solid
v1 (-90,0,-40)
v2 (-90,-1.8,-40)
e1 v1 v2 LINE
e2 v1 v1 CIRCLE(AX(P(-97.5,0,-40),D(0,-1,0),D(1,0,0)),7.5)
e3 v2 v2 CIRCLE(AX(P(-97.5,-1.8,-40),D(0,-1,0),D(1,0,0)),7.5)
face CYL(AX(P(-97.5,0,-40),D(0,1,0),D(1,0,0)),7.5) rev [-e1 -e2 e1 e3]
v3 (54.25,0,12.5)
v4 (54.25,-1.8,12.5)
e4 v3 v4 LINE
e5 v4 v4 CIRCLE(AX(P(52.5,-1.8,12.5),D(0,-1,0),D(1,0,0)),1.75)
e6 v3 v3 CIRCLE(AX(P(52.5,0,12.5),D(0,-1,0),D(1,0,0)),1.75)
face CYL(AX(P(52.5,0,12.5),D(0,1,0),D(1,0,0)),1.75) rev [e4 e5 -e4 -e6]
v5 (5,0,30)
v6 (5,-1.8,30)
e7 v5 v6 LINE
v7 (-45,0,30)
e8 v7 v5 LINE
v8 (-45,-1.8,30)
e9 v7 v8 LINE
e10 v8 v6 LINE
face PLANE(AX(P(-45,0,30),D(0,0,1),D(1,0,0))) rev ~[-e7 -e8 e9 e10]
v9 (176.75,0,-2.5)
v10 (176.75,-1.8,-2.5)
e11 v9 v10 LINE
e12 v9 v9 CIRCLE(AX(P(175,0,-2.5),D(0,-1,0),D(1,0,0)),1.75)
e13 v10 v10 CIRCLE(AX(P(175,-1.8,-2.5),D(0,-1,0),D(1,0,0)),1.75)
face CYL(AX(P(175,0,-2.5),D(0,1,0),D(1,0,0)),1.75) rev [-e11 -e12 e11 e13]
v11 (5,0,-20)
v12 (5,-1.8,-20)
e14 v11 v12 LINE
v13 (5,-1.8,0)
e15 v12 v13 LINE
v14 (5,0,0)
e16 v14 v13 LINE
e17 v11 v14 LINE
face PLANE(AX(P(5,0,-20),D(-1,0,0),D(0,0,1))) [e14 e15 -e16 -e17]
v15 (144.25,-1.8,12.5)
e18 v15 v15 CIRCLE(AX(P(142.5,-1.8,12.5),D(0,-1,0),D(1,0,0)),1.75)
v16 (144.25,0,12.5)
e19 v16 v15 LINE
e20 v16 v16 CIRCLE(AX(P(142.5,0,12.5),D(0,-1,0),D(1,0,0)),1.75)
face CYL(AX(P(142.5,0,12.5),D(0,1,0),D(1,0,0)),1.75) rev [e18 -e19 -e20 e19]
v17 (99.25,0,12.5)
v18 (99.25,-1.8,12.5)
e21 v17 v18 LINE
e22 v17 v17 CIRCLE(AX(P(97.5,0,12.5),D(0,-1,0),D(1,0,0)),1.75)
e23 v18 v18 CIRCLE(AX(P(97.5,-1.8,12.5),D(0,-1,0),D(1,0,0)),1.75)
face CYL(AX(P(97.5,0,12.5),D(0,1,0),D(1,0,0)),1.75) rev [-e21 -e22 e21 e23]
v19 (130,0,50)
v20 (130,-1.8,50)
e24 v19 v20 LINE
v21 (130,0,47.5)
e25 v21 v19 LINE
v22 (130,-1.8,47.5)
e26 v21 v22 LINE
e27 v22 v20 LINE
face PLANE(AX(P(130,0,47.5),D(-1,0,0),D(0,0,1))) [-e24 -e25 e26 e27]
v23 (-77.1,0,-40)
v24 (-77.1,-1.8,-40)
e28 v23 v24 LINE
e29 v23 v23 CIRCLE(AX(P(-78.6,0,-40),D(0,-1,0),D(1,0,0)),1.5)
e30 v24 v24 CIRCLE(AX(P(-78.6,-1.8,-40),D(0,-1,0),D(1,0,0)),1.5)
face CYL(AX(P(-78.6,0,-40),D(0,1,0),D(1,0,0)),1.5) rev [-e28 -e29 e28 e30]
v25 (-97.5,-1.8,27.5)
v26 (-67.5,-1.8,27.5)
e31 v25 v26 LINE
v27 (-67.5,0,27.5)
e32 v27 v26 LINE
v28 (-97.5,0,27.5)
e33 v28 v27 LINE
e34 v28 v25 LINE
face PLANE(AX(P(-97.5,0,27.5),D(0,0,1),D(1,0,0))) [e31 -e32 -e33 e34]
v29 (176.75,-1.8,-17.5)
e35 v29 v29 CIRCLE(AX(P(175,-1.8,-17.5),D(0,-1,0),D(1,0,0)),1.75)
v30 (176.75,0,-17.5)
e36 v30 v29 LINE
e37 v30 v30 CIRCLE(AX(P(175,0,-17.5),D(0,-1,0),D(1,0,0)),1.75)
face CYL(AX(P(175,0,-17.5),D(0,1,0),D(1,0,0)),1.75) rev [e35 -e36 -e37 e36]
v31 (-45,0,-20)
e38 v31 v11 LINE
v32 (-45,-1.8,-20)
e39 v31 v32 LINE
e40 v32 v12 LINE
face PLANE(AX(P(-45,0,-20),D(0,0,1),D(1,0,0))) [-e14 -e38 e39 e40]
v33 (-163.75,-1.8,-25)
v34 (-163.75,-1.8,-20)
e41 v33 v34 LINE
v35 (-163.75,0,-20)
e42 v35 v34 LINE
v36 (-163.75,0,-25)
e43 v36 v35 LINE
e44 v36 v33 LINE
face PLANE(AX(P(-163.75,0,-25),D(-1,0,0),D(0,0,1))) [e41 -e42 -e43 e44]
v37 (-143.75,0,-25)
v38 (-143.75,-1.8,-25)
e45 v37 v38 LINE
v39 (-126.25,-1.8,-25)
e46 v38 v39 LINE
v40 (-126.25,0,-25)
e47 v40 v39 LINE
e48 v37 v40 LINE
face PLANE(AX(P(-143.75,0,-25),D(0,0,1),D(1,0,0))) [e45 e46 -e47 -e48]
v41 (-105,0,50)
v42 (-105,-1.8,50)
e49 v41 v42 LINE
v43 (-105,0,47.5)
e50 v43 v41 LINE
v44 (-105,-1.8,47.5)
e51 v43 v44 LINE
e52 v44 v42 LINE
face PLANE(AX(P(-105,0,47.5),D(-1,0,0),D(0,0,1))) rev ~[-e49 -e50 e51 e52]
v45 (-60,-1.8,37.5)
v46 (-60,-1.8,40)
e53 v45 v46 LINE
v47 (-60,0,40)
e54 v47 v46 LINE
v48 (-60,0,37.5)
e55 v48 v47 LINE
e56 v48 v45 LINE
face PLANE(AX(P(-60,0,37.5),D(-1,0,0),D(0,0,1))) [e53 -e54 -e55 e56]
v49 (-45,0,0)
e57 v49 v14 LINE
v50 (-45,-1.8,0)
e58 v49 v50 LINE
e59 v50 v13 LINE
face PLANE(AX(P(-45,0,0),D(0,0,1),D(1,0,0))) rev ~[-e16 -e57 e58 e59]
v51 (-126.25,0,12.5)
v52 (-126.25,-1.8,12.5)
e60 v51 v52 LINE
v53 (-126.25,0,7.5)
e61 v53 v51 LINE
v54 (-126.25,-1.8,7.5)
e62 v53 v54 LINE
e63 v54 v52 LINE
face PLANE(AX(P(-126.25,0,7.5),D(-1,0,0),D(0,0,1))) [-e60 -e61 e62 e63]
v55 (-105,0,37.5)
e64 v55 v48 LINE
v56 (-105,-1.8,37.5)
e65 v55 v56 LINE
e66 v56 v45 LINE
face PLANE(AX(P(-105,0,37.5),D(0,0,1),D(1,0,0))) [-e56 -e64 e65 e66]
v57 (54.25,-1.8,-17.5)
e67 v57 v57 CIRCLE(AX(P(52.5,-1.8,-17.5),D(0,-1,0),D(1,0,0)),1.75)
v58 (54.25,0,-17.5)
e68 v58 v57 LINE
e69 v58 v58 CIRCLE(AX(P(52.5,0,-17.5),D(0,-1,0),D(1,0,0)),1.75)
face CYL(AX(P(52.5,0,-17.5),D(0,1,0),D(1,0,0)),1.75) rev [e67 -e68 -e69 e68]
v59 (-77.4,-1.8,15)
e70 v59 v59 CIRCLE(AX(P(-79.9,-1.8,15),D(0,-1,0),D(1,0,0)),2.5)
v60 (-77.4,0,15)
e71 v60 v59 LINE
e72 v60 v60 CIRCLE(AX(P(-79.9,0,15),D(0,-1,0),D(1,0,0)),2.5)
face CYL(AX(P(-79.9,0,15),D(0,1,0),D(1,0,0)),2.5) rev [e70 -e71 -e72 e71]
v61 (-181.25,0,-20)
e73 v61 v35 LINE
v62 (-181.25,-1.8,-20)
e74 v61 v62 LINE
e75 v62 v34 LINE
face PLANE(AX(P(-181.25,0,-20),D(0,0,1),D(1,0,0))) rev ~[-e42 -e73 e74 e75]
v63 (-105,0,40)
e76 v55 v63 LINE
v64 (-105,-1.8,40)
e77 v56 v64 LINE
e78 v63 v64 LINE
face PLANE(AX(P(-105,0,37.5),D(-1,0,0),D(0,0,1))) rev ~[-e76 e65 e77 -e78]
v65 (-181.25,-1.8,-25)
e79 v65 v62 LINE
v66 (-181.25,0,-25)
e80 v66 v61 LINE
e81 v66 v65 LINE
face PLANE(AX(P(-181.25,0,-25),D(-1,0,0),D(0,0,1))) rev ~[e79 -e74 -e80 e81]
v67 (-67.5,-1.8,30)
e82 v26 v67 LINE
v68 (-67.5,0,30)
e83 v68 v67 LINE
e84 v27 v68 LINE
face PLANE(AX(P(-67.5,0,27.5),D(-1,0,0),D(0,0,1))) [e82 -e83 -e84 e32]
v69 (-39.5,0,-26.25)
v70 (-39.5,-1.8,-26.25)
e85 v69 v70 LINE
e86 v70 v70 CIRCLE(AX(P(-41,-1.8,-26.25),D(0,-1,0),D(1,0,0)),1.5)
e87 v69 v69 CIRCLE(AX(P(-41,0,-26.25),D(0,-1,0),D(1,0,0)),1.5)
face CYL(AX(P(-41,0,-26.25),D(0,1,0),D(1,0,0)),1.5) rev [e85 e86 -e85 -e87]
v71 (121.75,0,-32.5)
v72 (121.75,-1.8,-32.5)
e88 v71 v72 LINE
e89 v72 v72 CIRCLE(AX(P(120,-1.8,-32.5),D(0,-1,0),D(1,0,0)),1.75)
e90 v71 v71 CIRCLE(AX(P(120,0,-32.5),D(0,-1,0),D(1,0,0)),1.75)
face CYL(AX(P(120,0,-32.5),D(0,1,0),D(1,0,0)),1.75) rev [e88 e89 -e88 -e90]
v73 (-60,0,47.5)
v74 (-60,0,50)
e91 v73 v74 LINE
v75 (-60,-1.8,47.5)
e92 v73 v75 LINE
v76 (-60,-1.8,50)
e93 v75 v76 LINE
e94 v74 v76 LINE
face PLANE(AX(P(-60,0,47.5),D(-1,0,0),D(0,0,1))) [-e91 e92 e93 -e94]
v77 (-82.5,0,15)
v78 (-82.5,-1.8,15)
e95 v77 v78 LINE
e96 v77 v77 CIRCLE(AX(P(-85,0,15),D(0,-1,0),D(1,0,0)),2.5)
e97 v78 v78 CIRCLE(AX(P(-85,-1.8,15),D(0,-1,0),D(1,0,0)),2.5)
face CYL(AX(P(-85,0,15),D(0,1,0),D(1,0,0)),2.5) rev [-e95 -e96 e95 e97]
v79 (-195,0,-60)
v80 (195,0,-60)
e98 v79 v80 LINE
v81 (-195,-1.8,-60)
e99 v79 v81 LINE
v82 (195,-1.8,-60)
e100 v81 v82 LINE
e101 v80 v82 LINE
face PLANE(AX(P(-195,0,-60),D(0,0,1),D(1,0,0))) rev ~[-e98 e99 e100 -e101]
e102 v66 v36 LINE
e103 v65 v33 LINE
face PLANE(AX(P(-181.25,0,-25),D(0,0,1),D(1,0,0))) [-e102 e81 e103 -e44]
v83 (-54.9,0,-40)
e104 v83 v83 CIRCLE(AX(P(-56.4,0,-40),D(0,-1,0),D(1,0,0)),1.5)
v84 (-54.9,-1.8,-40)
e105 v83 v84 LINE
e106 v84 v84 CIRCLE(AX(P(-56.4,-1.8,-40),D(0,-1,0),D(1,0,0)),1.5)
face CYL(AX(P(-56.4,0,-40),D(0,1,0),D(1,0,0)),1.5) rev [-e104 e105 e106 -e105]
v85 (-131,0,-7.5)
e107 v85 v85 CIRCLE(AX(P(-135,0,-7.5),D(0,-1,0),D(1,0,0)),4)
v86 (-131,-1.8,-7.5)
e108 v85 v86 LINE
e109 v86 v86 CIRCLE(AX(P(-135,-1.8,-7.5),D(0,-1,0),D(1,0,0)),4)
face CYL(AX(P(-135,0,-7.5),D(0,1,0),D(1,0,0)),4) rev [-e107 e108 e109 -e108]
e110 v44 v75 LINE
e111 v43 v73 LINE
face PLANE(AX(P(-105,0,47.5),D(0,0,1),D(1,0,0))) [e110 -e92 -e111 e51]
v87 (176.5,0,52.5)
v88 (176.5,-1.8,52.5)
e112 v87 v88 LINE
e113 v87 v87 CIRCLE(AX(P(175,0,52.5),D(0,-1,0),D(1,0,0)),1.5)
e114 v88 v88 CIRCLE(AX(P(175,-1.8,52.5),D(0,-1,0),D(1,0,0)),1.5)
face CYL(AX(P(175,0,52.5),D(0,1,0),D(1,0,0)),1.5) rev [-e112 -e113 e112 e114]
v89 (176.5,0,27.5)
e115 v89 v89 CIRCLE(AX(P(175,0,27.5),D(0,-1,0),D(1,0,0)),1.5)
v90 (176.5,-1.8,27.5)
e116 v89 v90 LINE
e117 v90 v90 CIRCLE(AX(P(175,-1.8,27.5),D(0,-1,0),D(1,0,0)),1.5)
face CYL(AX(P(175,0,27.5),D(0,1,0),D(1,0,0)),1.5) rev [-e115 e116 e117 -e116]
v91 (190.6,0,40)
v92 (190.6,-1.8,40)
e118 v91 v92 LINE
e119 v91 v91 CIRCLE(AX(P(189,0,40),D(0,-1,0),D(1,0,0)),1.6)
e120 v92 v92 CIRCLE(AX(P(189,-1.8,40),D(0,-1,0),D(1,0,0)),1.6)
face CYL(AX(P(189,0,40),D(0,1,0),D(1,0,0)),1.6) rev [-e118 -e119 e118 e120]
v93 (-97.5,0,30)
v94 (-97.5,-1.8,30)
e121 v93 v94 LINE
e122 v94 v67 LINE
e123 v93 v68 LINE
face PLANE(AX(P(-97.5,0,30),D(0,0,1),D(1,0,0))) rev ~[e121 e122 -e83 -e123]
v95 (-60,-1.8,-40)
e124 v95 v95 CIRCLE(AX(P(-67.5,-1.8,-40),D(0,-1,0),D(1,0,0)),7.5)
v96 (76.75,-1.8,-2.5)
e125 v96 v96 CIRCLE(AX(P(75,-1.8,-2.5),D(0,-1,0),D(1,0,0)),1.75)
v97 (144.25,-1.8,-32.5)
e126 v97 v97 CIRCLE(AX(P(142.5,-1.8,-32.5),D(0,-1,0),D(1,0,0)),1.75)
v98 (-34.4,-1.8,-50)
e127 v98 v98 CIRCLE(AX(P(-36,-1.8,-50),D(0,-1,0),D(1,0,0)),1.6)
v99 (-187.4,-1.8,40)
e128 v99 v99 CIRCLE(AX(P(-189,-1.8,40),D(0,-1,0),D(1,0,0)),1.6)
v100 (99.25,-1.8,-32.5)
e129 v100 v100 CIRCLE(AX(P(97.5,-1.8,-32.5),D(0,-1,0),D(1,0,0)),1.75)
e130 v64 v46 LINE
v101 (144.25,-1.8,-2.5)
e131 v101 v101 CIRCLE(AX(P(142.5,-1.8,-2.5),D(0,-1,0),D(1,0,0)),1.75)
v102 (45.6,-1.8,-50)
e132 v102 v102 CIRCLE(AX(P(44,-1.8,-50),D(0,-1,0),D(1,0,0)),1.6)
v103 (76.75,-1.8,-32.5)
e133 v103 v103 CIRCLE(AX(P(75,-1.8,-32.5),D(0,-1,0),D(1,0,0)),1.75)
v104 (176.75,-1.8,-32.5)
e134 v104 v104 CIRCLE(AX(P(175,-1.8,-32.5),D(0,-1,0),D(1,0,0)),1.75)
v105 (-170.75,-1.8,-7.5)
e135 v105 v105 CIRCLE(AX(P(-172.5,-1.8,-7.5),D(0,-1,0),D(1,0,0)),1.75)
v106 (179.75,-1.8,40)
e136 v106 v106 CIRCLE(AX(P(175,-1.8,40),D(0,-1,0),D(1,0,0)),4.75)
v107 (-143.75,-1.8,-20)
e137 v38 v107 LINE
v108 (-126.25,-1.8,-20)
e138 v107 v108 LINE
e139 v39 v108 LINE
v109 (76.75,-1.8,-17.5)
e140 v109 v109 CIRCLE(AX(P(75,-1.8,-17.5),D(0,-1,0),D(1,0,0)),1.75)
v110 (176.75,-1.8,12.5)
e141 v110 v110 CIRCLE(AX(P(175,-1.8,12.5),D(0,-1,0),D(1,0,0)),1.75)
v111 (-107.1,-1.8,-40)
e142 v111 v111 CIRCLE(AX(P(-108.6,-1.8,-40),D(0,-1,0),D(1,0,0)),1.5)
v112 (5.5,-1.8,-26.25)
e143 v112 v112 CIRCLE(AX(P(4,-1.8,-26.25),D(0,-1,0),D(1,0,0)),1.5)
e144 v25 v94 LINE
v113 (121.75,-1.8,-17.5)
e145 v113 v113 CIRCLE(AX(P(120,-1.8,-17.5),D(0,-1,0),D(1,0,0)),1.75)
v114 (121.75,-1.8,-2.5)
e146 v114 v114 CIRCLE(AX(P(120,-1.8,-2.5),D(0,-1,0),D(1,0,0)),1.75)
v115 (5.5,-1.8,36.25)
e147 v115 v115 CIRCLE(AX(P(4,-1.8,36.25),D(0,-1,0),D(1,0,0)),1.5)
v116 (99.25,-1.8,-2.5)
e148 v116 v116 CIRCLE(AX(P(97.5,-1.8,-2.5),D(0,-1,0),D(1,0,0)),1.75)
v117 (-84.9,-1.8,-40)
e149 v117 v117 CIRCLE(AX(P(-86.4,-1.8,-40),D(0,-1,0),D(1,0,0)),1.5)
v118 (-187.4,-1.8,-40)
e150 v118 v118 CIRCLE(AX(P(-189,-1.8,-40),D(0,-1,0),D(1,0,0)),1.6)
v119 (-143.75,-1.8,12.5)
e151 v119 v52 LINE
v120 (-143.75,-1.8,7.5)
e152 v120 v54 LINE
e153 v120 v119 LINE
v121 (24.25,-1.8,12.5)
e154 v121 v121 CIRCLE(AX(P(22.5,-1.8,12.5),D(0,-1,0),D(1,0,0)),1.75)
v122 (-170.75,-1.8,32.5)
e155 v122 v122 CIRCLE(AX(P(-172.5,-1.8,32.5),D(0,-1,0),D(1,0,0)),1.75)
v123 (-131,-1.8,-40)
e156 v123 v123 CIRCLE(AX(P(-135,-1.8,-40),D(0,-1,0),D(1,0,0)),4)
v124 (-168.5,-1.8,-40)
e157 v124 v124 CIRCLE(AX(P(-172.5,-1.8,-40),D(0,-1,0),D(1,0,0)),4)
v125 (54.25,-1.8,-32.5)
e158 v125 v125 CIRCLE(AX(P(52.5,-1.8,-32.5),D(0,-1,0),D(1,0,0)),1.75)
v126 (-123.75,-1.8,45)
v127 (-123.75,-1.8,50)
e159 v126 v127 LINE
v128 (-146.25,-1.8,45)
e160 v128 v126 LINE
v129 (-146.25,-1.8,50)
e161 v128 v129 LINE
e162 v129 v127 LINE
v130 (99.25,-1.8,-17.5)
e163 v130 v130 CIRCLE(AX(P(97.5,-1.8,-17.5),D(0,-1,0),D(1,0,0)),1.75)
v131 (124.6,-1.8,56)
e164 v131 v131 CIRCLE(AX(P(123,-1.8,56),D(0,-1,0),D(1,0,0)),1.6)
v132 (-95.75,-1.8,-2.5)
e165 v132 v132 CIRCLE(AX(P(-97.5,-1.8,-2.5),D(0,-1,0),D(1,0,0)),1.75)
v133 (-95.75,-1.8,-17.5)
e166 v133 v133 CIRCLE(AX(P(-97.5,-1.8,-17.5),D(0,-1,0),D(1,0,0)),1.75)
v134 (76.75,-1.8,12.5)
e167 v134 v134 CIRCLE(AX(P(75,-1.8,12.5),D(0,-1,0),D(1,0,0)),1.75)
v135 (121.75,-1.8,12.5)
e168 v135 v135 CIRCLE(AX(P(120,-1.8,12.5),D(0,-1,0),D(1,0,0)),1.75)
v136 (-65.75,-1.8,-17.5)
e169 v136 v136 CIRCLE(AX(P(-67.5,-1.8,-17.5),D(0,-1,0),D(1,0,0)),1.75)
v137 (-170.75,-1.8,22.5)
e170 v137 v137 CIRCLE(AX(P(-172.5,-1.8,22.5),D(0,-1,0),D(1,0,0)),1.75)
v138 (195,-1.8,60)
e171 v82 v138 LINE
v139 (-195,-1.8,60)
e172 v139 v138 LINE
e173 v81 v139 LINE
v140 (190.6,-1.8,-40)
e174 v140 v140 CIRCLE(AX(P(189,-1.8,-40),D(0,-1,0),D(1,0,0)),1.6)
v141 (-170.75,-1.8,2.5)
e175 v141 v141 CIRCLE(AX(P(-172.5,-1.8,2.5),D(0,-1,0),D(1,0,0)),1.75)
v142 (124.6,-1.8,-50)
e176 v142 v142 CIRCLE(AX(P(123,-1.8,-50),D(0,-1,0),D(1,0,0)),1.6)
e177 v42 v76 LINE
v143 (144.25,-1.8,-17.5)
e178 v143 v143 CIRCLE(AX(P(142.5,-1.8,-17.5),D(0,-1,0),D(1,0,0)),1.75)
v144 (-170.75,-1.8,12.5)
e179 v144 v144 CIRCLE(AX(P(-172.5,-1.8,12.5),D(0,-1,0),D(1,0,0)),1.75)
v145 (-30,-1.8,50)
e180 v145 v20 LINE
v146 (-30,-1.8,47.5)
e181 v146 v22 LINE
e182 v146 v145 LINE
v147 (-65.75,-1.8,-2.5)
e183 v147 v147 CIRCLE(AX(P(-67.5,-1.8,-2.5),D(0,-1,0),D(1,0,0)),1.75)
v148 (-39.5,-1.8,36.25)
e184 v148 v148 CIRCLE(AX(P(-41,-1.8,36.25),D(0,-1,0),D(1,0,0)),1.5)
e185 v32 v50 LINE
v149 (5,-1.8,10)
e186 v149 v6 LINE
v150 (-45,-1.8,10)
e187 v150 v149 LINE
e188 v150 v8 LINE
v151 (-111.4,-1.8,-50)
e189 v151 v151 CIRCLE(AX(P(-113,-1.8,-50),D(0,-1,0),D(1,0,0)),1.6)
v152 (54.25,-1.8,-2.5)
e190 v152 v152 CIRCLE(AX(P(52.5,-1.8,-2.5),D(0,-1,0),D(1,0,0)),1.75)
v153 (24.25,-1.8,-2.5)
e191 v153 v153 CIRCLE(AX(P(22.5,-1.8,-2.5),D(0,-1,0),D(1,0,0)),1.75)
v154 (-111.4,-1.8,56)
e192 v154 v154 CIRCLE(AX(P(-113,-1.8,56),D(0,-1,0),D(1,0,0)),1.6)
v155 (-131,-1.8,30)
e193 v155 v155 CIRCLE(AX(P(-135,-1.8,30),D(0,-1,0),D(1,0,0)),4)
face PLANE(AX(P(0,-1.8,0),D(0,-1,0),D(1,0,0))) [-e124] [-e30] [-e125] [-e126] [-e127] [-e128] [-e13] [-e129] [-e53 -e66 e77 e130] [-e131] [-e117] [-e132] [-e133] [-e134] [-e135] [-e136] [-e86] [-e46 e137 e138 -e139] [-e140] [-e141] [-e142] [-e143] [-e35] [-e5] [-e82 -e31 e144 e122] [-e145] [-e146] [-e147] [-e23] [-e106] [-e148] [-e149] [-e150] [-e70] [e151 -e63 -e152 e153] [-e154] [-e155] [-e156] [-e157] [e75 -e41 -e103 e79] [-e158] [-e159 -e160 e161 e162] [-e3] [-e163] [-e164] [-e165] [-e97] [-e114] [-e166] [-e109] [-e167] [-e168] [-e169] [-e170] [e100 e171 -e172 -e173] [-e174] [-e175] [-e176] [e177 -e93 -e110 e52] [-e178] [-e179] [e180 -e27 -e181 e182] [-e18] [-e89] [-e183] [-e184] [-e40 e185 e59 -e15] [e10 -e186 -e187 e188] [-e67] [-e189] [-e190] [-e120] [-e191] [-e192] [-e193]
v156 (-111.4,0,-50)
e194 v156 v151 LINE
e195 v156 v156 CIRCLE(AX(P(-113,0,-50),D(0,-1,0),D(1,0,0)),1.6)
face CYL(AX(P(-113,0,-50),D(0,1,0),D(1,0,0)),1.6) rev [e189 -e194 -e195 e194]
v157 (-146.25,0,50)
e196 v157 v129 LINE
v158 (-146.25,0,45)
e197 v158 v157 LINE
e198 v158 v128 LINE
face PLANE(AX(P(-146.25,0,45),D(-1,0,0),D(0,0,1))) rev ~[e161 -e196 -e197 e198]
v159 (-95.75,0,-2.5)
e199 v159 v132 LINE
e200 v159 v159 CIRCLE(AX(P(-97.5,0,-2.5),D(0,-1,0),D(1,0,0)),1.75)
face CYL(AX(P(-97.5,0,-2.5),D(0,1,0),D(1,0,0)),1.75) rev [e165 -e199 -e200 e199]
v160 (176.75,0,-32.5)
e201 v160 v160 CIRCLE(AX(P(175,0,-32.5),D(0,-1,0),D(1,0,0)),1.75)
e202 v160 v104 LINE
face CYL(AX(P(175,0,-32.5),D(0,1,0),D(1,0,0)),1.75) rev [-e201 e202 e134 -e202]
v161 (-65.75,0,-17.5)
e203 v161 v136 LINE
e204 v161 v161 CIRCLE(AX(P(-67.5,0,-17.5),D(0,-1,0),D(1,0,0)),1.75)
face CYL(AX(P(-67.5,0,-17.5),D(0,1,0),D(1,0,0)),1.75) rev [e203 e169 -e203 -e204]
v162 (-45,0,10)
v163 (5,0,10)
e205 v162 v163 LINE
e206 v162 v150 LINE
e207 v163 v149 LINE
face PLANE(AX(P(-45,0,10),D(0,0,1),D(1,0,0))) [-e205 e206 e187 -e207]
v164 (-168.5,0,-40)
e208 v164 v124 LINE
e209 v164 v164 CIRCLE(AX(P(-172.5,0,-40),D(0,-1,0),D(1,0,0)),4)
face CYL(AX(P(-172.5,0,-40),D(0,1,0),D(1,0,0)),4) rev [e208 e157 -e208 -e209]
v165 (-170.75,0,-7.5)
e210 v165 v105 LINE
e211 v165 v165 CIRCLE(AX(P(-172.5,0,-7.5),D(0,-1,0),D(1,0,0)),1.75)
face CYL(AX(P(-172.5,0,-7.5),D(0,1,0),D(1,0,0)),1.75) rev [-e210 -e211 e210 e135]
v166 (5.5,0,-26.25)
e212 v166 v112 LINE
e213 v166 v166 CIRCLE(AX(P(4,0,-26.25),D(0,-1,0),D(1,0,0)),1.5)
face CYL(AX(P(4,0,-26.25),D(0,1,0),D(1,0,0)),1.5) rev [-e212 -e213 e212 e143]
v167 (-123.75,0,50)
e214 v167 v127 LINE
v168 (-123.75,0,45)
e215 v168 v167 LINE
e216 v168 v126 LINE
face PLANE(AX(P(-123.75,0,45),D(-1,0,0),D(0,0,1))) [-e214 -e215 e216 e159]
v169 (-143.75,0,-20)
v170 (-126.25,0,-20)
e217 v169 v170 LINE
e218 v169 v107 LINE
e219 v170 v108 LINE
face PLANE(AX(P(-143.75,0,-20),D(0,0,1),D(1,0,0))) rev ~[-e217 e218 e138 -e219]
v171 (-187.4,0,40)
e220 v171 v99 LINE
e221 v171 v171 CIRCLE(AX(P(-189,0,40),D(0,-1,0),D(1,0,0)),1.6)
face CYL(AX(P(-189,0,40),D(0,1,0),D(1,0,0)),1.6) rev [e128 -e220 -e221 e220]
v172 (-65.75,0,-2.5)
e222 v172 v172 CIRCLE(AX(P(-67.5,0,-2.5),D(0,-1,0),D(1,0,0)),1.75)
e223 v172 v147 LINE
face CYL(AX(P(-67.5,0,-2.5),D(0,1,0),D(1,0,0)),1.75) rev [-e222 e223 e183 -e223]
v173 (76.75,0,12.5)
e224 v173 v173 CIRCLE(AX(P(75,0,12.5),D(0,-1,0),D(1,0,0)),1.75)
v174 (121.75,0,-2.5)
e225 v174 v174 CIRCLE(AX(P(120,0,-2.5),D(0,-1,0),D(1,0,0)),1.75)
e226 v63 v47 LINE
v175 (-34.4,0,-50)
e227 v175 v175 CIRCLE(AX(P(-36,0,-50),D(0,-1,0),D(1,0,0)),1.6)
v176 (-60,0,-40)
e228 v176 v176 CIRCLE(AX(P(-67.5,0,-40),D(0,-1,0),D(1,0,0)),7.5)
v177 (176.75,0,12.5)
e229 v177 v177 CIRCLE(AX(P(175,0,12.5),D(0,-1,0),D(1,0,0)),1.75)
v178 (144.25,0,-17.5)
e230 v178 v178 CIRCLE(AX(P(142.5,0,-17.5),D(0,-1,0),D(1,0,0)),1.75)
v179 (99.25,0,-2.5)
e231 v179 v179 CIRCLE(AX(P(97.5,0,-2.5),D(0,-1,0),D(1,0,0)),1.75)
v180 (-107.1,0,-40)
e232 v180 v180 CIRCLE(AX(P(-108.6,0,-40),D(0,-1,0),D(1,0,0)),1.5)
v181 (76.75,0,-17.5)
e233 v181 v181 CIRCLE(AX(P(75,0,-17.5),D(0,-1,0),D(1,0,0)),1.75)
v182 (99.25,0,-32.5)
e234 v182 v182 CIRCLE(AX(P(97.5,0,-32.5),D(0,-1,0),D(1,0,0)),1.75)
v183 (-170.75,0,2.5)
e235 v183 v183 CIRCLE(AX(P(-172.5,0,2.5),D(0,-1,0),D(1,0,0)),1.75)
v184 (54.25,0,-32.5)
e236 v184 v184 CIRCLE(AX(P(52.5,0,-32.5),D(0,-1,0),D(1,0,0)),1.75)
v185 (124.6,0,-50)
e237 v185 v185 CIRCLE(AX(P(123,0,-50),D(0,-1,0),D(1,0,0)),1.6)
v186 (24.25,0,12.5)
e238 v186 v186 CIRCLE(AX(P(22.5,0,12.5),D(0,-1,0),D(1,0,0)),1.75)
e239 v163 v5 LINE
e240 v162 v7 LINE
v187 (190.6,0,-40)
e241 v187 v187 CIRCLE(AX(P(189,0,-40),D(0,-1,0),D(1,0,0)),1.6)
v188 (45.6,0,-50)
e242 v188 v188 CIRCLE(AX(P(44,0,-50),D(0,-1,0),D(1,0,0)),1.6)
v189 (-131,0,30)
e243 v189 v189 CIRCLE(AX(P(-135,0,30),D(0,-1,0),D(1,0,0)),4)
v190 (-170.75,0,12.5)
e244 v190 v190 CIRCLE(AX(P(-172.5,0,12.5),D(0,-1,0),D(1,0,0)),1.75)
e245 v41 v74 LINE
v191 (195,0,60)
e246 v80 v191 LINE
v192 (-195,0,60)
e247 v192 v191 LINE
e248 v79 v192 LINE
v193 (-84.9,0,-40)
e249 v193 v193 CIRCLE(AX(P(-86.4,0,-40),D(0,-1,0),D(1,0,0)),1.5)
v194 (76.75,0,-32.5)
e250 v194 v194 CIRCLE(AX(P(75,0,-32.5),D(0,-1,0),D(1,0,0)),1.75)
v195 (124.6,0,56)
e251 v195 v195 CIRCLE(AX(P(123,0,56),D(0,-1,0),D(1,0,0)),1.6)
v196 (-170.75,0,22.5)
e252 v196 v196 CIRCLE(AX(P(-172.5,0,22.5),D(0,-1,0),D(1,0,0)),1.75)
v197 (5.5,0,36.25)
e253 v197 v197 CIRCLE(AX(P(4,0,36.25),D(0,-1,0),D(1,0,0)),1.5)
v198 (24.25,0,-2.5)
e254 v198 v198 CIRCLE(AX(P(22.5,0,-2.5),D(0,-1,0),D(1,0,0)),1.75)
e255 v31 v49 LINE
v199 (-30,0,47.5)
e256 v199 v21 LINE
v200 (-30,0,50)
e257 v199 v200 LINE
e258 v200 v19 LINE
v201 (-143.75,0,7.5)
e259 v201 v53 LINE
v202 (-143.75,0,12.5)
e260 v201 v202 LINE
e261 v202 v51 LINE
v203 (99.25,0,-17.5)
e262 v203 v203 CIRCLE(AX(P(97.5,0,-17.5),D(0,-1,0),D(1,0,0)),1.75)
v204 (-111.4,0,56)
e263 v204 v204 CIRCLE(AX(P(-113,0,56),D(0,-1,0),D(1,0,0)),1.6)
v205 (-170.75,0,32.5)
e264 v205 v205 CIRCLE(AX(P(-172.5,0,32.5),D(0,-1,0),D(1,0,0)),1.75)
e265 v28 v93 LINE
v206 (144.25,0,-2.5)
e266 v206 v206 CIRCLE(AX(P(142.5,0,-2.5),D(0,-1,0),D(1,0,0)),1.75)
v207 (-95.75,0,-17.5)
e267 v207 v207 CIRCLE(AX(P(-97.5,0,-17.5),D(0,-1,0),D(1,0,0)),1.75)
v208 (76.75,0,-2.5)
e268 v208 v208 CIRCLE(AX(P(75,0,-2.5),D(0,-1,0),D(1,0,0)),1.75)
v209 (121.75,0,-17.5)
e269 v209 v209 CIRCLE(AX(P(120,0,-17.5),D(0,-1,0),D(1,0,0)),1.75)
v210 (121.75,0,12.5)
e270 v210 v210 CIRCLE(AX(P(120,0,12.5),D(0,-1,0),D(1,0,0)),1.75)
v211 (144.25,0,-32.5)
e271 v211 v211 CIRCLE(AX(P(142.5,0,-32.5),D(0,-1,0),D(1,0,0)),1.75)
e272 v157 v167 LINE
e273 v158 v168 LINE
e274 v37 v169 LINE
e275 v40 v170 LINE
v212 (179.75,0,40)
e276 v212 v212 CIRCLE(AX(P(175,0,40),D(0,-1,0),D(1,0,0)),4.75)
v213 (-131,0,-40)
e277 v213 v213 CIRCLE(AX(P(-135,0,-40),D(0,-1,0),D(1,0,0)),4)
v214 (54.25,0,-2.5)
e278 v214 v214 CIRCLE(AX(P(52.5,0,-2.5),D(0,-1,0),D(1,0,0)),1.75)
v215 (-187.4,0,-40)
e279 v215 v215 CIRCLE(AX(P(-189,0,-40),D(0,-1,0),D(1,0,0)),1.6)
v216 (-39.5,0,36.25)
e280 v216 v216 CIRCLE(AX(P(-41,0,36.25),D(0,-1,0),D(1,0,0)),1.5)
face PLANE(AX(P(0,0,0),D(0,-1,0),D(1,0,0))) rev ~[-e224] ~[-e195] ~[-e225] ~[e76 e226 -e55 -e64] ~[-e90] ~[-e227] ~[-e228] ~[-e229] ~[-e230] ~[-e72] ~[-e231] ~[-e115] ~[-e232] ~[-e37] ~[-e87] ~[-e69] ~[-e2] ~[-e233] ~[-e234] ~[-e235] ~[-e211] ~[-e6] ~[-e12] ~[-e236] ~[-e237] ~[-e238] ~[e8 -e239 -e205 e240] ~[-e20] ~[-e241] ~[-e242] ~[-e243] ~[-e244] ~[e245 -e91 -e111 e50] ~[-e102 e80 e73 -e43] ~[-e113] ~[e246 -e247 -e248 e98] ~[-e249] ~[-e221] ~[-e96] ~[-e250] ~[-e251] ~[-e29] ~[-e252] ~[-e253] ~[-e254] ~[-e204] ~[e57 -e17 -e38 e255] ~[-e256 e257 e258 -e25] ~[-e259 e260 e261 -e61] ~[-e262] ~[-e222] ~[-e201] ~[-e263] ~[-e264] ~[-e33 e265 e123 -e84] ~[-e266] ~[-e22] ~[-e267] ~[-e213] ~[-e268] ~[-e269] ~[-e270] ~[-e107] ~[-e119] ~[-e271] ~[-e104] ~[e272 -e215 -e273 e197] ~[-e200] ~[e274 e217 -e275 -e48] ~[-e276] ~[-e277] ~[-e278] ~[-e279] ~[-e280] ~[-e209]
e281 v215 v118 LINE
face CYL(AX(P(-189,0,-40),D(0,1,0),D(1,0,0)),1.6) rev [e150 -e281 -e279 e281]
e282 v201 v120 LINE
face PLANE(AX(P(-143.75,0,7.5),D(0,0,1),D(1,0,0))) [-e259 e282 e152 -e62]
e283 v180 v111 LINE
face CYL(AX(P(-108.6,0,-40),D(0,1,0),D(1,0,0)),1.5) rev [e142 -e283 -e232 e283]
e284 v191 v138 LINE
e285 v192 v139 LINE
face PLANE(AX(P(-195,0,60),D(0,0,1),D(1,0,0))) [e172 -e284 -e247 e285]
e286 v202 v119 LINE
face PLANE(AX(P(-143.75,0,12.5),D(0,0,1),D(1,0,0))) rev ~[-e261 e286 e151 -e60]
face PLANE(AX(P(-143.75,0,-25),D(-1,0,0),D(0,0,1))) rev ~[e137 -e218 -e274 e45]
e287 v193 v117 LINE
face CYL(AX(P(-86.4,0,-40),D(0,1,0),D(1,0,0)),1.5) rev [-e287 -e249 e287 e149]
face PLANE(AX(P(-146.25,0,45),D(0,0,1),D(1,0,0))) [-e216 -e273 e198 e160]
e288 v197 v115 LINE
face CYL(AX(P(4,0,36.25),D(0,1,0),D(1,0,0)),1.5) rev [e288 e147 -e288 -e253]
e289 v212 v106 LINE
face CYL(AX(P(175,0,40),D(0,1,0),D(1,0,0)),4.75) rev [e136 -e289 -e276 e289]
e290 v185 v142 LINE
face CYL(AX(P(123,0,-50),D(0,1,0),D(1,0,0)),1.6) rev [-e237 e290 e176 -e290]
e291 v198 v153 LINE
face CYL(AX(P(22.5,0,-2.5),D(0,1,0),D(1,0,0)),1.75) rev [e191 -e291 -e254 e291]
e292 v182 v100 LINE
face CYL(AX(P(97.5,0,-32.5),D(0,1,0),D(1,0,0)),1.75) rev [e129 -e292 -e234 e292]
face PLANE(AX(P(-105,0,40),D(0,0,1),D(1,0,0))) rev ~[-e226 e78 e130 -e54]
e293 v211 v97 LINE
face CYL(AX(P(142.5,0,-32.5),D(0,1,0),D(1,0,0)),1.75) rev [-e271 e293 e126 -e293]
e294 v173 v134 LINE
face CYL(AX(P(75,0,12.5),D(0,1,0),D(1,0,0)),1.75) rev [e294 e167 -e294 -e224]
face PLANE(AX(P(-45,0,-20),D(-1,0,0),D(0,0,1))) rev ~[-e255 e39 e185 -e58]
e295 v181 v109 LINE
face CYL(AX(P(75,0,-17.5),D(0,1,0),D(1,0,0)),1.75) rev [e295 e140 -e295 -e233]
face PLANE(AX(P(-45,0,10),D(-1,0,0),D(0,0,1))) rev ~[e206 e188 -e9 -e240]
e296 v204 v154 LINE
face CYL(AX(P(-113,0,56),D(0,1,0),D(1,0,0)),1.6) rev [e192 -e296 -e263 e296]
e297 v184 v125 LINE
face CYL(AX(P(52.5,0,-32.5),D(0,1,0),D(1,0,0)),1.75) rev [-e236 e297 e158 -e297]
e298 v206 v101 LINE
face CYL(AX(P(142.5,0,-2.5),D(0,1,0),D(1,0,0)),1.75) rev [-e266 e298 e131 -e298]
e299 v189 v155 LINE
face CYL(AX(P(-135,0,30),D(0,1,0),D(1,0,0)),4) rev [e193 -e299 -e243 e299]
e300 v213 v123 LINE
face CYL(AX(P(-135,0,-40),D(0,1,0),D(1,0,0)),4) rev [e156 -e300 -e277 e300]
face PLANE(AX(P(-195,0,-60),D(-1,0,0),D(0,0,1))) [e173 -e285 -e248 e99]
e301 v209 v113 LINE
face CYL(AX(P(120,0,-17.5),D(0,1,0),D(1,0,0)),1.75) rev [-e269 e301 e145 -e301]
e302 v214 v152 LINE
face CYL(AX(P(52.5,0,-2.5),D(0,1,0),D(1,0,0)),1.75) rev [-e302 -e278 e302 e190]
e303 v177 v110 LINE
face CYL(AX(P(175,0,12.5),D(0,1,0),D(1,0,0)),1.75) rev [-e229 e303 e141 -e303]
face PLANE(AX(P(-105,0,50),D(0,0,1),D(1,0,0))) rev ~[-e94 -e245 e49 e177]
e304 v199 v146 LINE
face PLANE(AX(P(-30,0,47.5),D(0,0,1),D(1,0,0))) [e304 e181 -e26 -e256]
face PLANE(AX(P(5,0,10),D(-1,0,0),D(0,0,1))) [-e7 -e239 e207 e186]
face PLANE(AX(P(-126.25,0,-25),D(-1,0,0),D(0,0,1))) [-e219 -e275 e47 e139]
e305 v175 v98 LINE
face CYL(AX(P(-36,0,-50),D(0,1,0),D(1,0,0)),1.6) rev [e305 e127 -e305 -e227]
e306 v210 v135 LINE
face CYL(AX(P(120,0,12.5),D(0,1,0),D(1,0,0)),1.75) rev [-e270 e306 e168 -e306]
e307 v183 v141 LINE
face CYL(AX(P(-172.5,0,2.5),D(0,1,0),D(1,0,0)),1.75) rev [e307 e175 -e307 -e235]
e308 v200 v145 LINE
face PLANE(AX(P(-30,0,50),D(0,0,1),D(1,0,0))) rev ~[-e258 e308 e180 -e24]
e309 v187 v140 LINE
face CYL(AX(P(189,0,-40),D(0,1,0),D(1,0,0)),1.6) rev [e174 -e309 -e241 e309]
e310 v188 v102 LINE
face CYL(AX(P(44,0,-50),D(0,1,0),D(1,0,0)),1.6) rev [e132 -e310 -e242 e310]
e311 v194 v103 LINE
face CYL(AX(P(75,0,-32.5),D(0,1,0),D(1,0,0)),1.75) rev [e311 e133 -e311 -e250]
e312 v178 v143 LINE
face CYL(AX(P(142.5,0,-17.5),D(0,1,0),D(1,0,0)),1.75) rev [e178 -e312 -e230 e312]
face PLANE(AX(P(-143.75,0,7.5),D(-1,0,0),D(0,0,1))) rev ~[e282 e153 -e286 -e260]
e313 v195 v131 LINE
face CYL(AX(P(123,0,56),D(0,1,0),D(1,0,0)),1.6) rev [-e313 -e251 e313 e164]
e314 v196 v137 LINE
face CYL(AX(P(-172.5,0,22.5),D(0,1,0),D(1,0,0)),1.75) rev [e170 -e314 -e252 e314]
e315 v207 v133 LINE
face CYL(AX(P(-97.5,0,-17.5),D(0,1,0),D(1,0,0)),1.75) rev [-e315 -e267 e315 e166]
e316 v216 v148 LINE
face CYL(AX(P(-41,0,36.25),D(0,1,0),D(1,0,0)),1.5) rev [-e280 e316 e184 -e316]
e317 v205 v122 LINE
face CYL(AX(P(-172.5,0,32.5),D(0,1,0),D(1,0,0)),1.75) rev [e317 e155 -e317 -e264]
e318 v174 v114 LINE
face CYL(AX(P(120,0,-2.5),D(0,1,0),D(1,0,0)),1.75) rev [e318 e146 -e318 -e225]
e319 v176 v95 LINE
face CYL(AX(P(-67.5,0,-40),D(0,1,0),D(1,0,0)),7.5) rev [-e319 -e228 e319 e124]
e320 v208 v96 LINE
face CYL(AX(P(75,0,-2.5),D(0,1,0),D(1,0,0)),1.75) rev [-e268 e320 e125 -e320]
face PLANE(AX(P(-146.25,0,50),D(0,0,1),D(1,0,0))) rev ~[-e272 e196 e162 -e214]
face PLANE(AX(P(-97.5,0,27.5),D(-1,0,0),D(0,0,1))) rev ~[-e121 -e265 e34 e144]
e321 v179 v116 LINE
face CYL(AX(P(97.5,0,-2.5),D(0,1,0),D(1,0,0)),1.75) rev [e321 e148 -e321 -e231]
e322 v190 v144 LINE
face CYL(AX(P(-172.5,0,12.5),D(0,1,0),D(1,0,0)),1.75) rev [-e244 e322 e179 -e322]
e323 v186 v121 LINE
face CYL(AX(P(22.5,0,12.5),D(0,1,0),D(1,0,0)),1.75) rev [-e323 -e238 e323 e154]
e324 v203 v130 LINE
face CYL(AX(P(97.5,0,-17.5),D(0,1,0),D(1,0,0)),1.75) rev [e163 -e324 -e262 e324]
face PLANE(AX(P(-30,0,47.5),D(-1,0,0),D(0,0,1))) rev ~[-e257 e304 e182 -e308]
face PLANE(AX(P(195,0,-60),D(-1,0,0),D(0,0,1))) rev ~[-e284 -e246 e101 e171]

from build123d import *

# Parameters (mm, degrees)
F0_W     = 390
F0_H     = 120
F0_R     = 1.6
F0_R_2   = 4
F0_R_3   = 1.5
F0_R_4   = 7.5
F0_W_2   = 17.5
F0_H_2   = 5
F0_R_5   = 1.75
F0_W_3   = 50
F0_H_3   = 20
F0_R_6   = 2.5
F0_W_4   = 30
F0_H_4   = 2.5
F0_W_5   = 22.5
F0_W_6   = 45
F0_W_7   = 160
F0_R_7   = 4.75
F1_DEPTH = 1.8


with BuildPart() as f1:
    # F0 (on Front) → F1 (new body)
    with BuildSketch(Plane.XZ):
        Rectangle(F0_W, F0_H)
        with Locations((-113, -50)):
            Circle(F0_R, mode=Mode.SUBTRACT)
        with Locations((-189, -40)):
            Circle(F0_R, mode=Mode.SUBTRACT)
        with Locations((-172.5, -40)):
            Circle(F0_R_2, mode=Mode.SUBTRACT)
        with Locations((-135, -40)):
            Circle(F0_R_2, mode=Mode.SUBTRACT)
        with Locations((-108.6, -40)):
            Circle(F0_R_3, mode=Mode.SUBTRACT)
        with Locations((-36, -50)):
            Circle(F0_R, mode=Mode.SUBTRACT)
        with Locations((-97.5, -40)):
            Circle(F0_R_4, mode=Mode.SUBTRACT)
        with Locations((-86.4, -40)):
            Circle(F0_R_3, mode=Mode.SUBTRACT)
        with Locations((-78.6, -40)):
            Circle(F0_R_3, mode=Mode.SUBTRACT)
        with Locations((-67.5, -40)):
            Circle(F0_R_4, mode=Mode.SUBTRACT)
        with Locations((-56.4, -40)):
            Circle(F0_R_3, mode=Mode.SUBTRACT)
        with Locations((-172.5, -22.5)):
            Rectangle(F0_W_2, F0_H_2, mode=Mode.SUBTRACT)
        with Locations((-135, -22.5)):
            Rectangle(F0_W_2, F0_H_2, mode=Mode.SUBTRACT)
        with Locations((-172.5, -7.5)):
            Circle(F0_R_5, mode=Mode.SUBTRACT)
        with Locations((-135, -7.5)):
            Circle(F0_R_2, mode=Mode.SUBTRACT)
        with Locations((-97.5, -17.5)):
            Circle(F0_R_5, mode=Mode.SUBTRACT)
        with Locations((-67.5, -17.5)):
            Circle(F0_R_5, mode=Mode.SUBTRACT)
        with Locations((-41, -26.25)):
            Circle(F0_R_3, mode=Mode.SUBTRACT)
        with Locations((-97.5, -2.5)):
            Circle(F0_R_5, mode=Mode.SUBTRACT)
        with Locations((-67.5, -2.5)):
            Circle(F0_R_5, mode=Mode.SUBTRACT)
        with Locations((-20, -10)):
            Rectangle(F0_W_3, F0_H_3, mode=Mode.SUBTRACT)
        with Locations((44, -50)):
            Circle(F0_R, mode=Mode.SUBTRACT)
        with Locations((52.5, -32.5)):
            Circle(F0_R_5, mode=Mode.SUBTRACT)
        with Locations((75, -32.5)):
            Circle(F0_R_5, mode=Mode.SUBTRACT)
        with Locations((123, -50)):
            Circle(F0_R, mode=Mode.SUBTRACT)
        with Locations((97.5, -32.5)):
            Circle(F0_R_5, mode=Mode.SUBTRACT)
        with Locations((120, -32.5)):
            Circle(F0_R_5, mode=Mode.SUBTRACT)
        with Locations((142.5, -32.5)):
            Circle(F0_R_5, mode=Mode.SUBTRACT)
        with Locations((189, -40)):
            Circle(F0_R, mode=Mode.SUBTRACT)
        with Locations((175, -32.5)):
            Circle(F0_R_5, mode=Mode.SUBTRACT)
        with Locations((4, -26.25)):
            Circle(F0_R_3, mode=Mode.SUBTRACT)
        with Locations((52.5, -17.5)):
            Circle(F0_R_5, mode=Mode.SUBTRACT)
        with Locations((75, -17.5)):
            Circle(F0_R_5, mode=Mode.SUBTRACT)
        with Locations((22.5, -2.5)):
            Circle(F0_R_5, mode=Mode.SUBTRACT)
        with Locations((52.5, -2.5)):
            Circle(F0_R_5, mode=Mode.SUBTRACT)
        with Locations((75, -2.5)):
            Circle(F0_R_5, mode=Mode.SUBTRACT)
        with Locations((97.5, -17.5)):
            Circle(F0_R_5, mode=Mode.SUBTRACT)
        with Locations((120, -17.5)):
            Circle(F0_R_5, mode=Mode.SUBTRACT)
        with Locations((142.5, -17.5)):
            Circle(F0_R_5, mode=Mode.SUBTRACT)
        with Locations((175, -17.5)):
            Circle(F0_R_5, mode=Mode.SUBTRACT)
        with Locations((97.5, -2.5)):
            Circle(F0_R_5, mode=Mode.SUBTRACT)
        with Locations((120, -2.5)):
            Circle(F0_R_5, mode=Mode.SUBTRACT)
        with Locations((142.5, -2.5)):
            Circle(F0_R_5, mode=Mode.SUBTRACT)
        with Locations((175, -2.5)):
            Circle(F0_R_5, mode=Mode.SUBTRACT)
        with Locations((-172.5, 2.5)):
            Circle(F0_R_5, mode=Mode.SUBTRACT)
        with Locations((-172.5, 12.5)):
            Circle(F0_R_5, mode=Mode.SUBTRACT)
        with Locations((-135, 10)):
            Rectangle(F0_W_2, F0_H_2, mode=Mode.SUBTRACT)
        with Locations((-172.5, 22.5)):
            Circle(F0_R_5, mode=Mode.SUBTRACT)
        with Locations((-85, 15)):
            Circle(F0_R_6, mode=Mode.SUBTRACT)
        with Locations((-79.9, 15)):
            Circle(F0_R_6, mode=Mode.SUBTRACT)
        with Locations((-82.5, 28.75)):
            Rectangle(F0_W_4, F0_H_4, mode=Mode.SUBTRACT)
        with Locations((-20, 20)):
            Rectangle(F0_W_3, F0_H_3, mode=Mode.SUBTRACT)
        with Locations((-172.5, 32.5)):
            Circle(F0_R_5, mode=Mode.SUBTRACT)
        with Locations((-189, 40)):
            Circle(F0_R, mode=Mode.SUBTRACT)
        with Locations((-135, 30)):
            Circle(F0_R_2, mode=Mode.SUBTRACT)
        with Locations((-135, 47.5)):
            Rectangle(F0_W_5, F0_H_2, mode=Mode.SUBTRACT)
        with Locations((-113, 56)):
            Circle(F0_R, mode=Mode.SUBTRACT)
        with Locations((-82.5, 38.75)):
            Rectangle(F0_W_6, F0_H_4, mode=Mode.SUBTRACT)
        with Locations((-41, 36.25)):
            Circle(F0_R_3, mode=Mode.SUBTRACT)
        with Locations((-82.5, 48.75)):
            Rectangle(F0_W_6, F0_H_4, mode=Mode.SUBTRACT)
        with Locations((22.5, 12.5)):
            Circle(F0_R_5, mode=Mode.SUBTRACT)
        with Locations((52.5, 12.5)):
            Circle(F0_R_5, mode=Mode.SUBTRACT)
        with Locations((75, 12.5)):
            Circle(F0_R_5, mode=Mode.SUBTRACT)
        with Locations((97.5, 12.5)):
            Circle(F0_R_5, mode=Mode.SUBTRACT)
        with Locations((120, 12.5)):
            Circle(F0_R_5, mode=Mode.SUBTRACT)
        with Locations((142.5, 12.5)):
            Circle(F0_R_5, mode=Mode.SUBTRACT)
        with Locations((175, 12.5)):
            Circle(F0_R_5, mode=Mode.SUBTRACT)
        with Locations((175, 27.5)):
            Circle(F0_R_3, mode=Mode.SUBTRACT)
        with Locations((4, 36.25)):
            Circle(F0_R_3, mode=Mode.SUBTRACT)
        with Locations((50, 48.75)):
            Rectangle(F0_W_7, F0_H_4, mode=Mode.SUBTRACT)
        with Locations((175, 40)):
            Circle(F0_R_7, mode=Mode.SUBTRACT)
        with Locations((189, 40)):
            Circle(F0_R, mode=Mode.SUBTRACT)
        with Locations((123, 56)):
            Circle(F0_R, mode=Mode.SUBTRACT)
        with Locations((175, 52.5)):
            Circle(F0_R_3, mode=Mode.SUBTRACT)
    extrude(amount=F1_DEPTH)


solid = f1.part
